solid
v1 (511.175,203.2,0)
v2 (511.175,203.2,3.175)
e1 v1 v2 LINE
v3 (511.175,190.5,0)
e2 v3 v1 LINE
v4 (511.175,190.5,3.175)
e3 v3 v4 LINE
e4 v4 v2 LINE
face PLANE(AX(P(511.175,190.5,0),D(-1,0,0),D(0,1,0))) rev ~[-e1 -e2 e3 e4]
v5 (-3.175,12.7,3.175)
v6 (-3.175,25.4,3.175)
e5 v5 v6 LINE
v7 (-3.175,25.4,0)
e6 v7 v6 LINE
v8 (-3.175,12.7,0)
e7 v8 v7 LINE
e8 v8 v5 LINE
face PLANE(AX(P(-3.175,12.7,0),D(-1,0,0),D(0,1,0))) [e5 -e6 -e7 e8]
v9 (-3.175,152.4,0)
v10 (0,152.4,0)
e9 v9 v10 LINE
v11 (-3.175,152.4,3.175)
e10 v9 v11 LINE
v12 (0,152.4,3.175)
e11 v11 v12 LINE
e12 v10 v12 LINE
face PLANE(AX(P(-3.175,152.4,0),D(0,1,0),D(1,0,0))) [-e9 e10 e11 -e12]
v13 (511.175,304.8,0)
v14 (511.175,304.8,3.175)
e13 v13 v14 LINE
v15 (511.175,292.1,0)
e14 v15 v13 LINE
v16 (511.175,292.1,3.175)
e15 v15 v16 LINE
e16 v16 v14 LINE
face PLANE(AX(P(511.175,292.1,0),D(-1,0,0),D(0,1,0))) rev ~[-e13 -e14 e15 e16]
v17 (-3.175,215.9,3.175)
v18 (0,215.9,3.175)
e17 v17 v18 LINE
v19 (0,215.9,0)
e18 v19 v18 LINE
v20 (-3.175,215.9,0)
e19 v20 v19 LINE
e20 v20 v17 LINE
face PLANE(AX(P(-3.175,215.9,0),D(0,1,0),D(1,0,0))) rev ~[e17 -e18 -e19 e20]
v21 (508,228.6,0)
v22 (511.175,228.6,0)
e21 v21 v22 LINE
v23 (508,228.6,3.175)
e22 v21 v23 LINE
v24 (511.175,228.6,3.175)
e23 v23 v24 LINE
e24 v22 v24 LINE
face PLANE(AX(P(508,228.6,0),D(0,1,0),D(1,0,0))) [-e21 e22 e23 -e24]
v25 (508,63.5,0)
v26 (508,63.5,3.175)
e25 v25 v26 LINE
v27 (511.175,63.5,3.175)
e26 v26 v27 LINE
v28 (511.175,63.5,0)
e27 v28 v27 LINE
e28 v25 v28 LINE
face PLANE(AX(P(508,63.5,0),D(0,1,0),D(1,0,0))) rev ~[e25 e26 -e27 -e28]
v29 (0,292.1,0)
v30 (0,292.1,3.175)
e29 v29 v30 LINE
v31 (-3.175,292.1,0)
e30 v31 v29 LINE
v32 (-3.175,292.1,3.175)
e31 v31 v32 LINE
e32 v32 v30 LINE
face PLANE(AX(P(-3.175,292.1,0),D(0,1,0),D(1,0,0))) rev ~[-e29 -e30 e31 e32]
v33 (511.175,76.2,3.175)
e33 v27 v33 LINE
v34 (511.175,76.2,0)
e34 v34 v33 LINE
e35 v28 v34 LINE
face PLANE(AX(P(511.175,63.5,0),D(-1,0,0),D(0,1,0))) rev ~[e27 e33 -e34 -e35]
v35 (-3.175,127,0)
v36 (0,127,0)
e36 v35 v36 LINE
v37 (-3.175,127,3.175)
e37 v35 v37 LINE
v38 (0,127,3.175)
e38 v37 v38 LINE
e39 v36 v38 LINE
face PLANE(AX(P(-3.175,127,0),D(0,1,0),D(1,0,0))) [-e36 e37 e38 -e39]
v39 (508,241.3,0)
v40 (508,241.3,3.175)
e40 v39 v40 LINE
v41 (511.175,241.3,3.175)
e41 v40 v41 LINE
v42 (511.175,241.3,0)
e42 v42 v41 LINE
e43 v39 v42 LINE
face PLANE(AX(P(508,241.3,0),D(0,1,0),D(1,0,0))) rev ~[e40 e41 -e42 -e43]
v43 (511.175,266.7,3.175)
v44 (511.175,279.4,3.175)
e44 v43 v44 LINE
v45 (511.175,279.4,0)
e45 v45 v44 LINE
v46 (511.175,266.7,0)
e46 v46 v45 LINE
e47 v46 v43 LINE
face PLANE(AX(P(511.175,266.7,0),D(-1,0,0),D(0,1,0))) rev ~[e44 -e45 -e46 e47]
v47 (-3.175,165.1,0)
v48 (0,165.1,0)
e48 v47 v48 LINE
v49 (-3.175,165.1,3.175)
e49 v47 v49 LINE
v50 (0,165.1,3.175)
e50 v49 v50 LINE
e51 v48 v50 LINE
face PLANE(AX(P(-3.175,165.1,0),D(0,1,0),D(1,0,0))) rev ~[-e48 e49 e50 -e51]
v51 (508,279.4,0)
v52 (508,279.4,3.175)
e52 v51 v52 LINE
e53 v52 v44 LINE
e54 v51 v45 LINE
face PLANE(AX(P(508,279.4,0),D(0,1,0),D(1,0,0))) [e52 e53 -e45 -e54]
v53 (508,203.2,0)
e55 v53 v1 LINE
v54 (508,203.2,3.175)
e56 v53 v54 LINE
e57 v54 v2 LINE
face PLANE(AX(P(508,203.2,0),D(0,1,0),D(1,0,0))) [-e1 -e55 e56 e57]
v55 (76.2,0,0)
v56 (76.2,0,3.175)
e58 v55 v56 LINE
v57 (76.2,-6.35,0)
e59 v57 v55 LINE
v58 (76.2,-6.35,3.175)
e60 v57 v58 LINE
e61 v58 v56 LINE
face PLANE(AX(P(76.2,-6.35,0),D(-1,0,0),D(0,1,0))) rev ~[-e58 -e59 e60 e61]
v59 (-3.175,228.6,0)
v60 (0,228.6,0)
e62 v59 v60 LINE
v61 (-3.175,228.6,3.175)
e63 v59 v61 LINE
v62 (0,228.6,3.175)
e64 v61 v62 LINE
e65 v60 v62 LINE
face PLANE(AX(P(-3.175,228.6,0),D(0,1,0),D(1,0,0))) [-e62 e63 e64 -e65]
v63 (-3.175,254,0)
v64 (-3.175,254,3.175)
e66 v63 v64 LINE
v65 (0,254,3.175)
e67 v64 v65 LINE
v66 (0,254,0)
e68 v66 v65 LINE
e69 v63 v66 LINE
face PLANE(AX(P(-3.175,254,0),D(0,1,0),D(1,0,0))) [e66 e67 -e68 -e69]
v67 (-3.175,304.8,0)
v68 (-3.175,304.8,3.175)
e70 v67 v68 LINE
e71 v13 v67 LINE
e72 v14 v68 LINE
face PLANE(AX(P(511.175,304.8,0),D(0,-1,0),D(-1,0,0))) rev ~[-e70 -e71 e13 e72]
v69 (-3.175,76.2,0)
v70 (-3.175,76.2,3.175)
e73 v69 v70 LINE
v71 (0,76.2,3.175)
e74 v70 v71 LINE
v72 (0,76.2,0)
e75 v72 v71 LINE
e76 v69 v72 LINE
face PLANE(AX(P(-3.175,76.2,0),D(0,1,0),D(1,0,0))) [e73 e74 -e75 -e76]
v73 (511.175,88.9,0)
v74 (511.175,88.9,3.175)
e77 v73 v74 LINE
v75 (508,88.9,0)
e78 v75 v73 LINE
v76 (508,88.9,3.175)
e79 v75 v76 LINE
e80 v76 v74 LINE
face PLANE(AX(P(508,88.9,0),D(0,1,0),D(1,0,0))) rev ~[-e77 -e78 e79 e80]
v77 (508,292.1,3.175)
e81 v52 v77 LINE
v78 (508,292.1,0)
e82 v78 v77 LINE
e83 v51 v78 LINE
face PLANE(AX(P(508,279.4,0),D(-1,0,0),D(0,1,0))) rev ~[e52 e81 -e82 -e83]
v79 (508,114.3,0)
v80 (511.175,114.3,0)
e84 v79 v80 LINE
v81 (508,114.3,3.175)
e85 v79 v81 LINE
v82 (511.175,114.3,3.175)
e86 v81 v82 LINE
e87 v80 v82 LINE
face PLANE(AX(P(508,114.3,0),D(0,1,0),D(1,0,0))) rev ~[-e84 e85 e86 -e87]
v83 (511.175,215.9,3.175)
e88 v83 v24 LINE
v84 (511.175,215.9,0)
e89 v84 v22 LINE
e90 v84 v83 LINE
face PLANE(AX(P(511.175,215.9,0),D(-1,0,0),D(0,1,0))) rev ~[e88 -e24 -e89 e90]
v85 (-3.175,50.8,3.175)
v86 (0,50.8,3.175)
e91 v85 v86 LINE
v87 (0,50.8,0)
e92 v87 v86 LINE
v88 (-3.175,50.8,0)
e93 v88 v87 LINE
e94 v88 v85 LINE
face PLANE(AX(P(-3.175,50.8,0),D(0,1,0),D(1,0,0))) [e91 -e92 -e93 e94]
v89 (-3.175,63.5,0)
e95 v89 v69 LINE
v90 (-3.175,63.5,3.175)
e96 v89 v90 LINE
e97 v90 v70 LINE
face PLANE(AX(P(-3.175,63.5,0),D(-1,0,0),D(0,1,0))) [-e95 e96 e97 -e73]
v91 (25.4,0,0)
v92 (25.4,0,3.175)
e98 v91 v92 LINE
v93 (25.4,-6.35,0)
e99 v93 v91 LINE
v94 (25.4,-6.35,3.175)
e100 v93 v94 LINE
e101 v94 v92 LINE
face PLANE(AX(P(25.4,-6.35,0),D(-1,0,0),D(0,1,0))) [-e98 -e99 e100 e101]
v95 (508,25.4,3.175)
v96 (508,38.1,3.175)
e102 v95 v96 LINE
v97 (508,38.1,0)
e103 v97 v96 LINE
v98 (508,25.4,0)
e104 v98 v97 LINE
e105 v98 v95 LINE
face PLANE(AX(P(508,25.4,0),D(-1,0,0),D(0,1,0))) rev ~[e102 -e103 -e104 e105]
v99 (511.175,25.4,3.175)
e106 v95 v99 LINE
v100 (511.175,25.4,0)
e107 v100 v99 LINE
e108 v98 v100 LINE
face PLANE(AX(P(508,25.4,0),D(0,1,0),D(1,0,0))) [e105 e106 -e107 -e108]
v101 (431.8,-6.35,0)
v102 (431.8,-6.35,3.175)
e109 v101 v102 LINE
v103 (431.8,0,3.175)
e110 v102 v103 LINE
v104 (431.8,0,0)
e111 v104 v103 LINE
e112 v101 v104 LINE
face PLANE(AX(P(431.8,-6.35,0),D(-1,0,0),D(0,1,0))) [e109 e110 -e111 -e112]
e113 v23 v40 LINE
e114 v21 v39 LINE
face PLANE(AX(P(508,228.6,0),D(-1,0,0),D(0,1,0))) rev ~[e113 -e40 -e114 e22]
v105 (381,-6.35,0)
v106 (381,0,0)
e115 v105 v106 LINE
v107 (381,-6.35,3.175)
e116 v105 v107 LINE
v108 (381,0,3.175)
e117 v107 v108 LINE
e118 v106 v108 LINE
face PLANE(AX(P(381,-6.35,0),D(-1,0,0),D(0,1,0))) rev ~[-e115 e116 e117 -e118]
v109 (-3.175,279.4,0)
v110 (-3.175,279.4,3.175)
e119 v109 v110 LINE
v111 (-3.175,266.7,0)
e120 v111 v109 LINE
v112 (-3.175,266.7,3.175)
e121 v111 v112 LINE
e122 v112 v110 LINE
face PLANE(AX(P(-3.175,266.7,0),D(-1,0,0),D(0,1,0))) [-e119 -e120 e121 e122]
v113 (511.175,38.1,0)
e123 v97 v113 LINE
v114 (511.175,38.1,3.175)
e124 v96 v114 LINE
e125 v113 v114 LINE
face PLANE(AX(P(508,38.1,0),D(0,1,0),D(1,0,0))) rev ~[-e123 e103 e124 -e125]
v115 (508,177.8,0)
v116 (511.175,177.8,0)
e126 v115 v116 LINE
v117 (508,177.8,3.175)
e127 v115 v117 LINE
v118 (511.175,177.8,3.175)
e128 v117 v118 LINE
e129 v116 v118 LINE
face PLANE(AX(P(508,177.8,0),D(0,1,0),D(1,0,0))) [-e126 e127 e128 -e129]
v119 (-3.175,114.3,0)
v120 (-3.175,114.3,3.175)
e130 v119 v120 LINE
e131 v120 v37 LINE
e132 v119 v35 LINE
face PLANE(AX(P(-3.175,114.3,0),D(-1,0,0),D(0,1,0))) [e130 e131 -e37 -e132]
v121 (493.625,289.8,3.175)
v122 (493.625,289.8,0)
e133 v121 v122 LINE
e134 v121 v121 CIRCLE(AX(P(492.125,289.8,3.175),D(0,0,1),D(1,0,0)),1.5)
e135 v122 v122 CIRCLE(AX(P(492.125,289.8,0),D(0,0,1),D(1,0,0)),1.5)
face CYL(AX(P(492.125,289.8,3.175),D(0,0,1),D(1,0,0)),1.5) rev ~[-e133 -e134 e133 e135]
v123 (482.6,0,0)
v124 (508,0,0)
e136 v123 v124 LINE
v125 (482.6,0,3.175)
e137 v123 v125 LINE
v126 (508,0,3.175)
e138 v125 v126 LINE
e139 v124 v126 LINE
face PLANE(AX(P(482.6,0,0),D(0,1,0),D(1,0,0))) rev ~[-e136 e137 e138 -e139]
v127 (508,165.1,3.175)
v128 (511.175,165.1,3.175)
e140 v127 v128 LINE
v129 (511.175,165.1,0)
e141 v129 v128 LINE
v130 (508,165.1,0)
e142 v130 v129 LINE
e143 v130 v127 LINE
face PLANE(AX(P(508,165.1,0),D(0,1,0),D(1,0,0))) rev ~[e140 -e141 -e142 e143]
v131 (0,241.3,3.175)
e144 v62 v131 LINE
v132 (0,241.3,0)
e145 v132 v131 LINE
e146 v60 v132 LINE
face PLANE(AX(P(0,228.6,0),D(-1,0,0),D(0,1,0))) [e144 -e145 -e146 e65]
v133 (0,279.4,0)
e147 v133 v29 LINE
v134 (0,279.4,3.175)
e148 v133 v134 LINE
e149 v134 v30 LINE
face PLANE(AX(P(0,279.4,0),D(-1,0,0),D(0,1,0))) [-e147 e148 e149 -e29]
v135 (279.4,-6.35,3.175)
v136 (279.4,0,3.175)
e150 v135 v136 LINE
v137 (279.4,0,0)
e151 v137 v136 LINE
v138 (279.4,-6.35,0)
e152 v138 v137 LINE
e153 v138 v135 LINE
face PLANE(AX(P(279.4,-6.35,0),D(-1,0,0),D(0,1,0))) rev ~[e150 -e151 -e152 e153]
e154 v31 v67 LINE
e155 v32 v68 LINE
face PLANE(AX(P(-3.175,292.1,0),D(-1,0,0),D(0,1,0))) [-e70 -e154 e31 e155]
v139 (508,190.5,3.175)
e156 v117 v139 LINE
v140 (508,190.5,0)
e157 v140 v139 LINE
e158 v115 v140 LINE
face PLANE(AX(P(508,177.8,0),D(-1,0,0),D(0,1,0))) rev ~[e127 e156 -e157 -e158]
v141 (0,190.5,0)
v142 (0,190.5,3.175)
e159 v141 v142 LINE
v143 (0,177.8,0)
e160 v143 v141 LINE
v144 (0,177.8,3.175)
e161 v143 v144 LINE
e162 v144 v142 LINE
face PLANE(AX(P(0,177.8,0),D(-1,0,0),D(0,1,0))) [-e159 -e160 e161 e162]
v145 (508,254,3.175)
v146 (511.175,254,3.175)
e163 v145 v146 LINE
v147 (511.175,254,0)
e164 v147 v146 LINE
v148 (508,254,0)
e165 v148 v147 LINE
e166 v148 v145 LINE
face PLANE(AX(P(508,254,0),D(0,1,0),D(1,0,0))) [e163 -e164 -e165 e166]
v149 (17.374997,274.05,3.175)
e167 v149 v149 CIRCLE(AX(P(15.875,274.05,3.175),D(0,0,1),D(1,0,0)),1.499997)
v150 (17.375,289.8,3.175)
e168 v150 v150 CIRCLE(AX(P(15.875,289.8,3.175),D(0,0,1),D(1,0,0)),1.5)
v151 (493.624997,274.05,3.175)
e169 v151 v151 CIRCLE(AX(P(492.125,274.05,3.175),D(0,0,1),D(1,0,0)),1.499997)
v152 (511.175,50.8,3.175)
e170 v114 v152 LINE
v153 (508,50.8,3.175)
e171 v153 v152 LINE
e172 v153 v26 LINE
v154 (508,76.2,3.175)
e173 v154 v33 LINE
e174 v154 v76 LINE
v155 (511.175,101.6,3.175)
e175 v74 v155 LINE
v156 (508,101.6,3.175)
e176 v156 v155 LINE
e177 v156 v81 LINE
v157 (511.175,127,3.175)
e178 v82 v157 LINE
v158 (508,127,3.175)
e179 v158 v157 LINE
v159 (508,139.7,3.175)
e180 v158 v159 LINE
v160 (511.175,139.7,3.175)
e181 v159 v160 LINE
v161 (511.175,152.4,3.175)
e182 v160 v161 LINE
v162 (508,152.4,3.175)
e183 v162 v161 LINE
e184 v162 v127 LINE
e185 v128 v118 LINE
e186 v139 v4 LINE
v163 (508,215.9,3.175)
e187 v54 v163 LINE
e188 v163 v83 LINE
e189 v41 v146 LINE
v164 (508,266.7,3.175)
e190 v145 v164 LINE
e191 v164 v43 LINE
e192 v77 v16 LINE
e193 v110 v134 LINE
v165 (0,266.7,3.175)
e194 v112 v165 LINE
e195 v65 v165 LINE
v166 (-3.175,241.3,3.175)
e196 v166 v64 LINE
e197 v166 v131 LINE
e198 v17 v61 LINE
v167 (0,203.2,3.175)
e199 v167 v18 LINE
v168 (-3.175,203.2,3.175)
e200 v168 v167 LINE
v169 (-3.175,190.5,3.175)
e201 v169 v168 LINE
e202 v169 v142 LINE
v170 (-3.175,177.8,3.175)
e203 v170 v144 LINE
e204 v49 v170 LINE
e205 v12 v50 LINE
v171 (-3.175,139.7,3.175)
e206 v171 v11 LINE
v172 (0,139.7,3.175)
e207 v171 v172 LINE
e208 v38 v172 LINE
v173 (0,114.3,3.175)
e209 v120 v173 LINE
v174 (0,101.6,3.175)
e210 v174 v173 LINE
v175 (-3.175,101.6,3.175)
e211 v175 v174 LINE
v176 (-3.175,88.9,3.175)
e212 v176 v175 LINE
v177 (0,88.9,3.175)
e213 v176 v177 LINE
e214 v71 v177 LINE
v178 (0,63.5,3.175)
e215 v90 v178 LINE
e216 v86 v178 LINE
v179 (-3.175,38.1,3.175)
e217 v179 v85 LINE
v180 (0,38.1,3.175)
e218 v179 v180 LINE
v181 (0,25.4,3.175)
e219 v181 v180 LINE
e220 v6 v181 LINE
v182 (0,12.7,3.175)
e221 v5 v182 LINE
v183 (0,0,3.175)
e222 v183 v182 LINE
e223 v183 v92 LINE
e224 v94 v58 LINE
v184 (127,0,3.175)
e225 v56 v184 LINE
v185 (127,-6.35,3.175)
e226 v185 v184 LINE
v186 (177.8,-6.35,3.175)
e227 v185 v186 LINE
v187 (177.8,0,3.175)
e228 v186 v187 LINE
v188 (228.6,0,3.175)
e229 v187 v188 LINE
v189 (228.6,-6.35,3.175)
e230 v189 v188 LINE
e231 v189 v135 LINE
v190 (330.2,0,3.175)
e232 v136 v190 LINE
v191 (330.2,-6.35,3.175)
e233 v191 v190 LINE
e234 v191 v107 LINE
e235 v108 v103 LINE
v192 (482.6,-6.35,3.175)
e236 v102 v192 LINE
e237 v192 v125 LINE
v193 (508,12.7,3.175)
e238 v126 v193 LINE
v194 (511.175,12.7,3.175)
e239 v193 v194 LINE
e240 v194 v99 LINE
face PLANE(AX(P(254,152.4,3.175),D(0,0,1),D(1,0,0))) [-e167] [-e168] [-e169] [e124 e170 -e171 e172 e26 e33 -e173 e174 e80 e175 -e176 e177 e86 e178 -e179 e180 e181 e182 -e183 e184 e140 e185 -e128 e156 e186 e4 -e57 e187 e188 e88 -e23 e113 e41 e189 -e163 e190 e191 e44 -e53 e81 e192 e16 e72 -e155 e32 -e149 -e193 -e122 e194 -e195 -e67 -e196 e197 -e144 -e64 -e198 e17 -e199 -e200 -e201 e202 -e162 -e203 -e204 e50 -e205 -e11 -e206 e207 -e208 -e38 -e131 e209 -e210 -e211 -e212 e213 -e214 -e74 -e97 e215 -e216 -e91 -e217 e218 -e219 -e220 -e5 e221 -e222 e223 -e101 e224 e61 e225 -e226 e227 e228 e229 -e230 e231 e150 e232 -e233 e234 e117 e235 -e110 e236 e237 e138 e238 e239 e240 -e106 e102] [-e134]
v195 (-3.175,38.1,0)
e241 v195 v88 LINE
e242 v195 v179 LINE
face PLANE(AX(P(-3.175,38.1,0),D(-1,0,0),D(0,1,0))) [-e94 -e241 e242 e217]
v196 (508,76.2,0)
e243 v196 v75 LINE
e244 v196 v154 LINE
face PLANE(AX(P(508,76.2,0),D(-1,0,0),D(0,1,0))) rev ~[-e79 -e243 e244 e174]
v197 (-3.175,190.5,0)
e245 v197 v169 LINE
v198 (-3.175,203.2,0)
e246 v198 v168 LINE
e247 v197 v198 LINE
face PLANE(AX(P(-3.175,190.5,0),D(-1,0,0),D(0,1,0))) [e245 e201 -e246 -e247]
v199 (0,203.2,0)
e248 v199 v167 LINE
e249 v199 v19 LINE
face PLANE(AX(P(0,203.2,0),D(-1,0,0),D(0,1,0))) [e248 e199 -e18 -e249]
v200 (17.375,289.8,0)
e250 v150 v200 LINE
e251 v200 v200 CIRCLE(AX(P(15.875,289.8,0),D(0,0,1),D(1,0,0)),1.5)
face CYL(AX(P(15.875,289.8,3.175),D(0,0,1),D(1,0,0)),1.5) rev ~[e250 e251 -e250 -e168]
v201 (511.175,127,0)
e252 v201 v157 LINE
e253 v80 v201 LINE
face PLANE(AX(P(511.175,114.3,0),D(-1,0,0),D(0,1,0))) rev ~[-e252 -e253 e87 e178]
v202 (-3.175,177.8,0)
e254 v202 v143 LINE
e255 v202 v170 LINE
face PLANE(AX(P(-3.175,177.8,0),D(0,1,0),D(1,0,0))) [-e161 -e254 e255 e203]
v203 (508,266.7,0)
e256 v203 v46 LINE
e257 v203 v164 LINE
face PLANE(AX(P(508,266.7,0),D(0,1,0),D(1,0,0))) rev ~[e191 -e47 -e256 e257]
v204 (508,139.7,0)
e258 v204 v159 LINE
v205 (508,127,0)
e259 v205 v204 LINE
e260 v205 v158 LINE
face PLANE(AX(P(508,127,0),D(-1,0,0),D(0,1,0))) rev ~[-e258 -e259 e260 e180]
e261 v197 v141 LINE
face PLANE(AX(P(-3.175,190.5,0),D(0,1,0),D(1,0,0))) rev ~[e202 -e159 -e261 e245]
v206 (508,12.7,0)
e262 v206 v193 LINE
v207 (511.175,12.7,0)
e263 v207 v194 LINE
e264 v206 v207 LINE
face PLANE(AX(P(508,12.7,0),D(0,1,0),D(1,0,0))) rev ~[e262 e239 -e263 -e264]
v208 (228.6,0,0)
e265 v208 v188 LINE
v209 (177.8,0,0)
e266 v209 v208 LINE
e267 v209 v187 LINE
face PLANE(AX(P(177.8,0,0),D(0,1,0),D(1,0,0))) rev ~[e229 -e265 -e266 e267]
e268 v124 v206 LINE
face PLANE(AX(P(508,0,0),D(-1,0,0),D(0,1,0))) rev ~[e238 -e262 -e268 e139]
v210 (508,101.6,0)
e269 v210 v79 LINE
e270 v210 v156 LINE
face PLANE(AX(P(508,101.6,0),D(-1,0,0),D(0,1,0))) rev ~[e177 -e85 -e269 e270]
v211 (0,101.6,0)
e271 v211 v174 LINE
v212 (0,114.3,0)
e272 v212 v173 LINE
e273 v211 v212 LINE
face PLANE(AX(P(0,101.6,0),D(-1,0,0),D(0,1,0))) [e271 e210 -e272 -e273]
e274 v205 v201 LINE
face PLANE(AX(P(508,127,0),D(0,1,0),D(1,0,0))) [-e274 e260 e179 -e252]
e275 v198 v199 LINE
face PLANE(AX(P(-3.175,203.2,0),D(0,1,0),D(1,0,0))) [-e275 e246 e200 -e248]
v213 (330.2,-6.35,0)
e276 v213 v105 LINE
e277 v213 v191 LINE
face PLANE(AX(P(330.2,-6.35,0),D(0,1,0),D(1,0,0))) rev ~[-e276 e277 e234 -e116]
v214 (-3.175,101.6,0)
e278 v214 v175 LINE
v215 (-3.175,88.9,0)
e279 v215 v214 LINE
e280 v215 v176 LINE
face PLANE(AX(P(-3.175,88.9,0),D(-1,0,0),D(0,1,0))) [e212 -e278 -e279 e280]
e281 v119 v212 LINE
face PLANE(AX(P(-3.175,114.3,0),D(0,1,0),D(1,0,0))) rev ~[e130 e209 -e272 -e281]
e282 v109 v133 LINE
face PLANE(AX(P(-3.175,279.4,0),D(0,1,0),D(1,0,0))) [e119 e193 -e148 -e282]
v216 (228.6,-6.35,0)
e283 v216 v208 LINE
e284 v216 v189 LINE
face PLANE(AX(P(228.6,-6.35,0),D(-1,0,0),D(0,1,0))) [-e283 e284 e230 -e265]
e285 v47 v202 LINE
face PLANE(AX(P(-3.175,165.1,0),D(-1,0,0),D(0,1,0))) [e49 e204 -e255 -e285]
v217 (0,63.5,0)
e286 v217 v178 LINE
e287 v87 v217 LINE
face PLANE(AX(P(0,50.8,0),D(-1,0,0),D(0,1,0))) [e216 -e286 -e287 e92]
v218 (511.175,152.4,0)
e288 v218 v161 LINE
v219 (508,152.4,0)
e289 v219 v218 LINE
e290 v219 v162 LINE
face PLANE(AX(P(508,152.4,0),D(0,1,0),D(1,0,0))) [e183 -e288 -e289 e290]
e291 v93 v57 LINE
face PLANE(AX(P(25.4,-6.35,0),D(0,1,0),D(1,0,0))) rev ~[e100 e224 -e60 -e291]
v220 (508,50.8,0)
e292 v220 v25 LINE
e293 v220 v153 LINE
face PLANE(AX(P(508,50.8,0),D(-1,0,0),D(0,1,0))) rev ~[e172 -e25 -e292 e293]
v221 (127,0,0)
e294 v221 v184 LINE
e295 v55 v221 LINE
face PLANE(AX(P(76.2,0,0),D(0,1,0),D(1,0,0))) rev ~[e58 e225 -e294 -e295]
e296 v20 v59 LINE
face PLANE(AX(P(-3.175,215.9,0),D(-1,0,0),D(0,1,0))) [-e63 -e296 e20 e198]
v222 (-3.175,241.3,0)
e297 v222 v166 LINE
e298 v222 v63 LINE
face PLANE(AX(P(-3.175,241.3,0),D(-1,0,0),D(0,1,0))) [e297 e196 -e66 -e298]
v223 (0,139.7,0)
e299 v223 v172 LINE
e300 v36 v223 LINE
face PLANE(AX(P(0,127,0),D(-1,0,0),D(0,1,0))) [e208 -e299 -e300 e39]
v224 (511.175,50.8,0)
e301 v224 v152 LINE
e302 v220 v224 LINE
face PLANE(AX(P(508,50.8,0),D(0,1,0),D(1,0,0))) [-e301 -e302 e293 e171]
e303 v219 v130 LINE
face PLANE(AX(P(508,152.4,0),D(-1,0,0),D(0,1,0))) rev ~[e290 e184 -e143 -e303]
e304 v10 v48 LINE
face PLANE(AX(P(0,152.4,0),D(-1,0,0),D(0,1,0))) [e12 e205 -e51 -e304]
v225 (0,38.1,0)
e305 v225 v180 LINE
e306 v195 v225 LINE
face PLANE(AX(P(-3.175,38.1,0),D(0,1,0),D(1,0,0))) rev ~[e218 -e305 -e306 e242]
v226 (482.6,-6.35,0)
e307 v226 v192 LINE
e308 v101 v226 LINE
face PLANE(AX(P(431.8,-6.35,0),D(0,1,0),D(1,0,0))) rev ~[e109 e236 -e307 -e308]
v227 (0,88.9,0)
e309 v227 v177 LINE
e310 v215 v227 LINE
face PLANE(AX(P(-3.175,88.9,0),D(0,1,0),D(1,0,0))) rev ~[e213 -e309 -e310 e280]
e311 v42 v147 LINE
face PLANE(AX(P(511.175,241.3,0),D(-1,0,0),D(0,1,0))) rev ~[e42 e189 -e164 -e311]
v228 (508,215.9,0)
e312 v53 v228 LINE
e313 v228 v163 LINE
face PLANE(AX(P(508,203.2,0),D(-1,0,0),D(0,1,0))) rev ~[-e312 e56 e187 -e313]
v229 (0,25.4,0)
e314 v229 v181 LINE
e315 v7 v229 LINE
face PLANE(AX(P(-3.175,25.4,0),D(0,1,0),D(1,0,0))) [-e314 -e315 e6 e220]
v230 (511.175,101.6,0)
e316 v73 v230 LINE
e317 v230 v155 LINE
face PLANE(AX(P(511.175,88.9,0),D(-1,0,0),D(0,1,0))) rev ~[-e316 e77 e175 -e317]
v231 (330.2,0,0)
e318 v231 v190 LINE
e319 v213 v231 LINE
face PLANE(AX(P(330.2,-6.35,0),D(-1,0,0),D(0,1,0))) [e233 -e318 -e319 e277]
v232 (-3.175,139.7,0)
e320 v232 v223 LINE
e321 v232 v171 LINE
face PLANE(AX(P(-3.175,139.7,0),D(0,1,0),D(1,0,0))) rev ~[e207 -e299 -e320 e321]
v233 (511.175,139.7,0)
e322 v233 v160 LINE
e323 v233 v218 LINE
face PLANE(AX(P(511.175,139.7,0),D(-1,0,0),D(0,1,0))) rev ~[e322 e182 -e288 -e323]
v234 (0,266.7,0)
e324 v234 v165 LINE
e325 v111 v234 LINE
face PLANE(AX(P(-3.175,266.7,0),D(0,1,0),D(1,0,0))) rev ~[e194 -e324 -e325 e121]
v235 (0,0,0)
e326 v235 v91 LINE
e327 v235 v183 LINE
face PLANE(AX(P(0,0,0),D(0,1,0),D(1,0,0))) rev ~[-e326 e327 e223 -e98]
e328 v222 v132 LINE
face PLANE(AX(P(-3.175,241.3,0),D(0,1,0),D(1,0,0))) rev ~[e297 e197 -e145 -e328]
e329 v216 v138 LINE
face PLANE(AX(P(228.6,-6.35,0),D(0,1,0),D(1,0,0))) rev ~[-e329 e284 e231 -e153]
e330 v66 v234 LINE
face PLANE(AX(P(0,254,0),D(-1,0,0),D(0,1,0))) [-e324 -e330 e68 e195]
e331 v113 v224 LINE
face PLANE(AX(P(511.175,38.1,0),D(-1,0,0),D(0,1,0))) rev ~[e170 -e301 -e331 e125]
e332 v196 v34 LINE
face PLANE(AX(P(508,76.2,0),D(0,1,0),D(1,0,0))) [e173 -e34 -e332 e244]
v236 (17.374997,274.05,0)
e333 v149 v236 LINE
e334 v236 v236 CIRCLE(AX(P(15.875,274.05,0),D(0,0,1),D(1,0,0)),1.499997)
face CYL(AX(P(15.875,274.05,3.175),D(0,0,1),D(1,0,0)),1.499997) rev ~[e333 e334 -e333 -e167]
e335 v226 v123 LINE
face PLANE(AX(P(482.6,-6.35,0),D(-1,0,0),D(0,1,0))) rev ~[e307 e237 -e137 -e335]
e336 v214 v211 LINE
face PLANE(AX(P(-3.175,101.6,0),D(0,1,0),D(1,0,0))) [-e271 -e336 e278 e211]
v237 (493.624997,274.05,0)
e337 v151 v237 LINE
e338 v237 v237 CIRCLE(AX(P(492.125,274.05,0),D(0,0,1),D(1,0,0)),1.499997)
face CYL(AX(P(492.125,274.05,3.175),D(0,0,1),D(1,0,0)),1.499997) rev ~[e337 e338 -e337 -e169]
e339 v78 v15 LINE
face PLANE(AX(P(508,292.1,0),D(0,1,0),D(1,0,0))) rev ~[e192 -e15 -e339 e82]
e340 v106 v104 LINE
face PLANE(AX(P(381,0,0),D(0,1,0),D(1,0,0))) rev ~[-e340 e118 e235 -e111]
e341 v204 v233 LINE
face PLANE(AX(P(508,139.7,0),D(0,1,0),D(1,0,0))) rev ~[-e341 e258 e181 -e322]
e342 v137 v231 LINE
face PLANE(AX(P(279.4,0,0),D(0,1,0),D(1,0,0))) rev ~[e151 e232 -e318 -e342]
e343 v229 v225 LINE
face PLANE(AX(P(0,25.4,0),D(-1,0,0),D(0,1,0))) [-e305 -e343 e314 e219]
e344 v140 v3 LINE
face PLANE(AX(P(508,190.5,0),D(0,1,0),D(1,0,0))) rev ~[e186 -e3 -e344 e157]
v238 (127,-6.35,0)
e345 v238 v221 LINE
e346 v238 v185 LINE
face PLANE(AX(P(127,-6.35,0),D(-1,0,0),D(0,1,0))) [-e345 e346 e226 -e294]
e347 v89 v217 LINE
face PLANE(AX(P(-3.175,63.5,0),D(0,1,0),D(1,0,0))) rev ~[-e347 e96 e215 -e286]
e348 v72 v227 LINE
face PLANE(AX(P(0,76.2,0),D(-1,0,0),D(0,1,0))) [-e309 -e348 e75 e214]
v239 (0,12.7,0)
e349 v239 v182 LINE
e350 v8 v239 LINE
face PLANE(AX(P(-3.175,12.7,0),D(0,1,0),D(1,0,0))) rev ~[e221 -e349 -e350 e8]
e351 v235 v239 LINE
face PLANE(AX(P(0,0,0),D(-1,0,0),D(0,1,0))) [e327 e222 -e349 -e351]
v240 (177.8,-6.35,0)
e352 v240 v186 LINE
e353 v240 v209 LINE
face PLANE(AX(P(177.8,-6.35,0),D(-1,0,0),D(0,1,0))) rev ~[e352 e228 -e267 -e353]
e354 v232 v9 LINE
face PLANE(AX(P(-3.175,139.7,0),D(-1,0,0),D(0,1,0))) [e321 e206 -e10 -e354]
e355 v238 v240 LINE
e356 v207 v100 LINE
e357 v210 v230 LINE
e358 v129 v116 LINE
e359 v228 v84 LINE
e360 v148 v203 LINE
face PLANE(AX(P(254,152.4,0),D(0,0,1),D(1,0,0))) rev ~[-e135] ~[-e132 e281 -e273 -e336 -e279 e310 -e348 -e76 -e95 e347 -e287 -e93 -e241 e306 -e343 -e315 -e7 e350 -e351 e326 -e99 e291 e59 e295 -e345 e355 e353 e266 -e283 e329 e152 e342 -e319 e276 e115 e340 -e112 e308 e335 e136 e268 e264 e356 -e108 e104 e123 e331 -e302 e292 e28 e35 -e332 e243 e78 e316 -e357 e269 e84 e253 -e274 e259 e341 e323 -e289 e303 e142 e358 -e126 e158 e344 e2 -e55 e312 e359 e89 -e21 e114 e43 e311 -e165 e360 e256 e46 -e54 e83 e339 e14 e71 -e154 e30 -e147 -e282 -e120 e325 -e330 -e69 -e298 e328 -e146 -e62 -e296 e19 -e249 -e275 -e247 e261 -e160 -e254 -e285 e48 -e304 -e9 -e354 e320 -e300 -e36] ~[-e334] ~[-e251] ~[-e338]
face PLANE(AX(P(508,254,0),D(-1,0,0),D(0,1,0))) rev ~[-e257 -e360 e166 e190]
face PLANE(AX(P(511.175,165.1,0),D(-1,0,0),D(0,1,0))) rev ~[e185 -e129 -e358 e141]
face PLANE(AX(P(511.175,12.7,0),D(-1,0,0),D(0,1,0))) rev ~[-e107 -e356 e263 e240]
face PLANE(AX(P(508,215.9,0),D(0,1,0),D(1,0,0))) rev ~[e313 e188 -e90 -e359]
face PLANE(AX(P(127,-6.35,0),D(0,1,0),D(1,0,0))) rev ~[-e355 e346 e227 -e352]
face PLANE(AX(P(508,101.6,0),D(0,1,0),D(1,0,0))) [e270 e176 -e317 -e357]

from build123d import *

# Parameters (mm, degrees)
SKETCH1_W           = 508
SKETCH1_H           = 304.8
SKETCH1_W_2         = 50.8
SKETCH1_H_2         = 6.35
SKETCH1_W_3         = 3.175
SKETCH1_H_3         = 12.7
BOSS_EXTRUDE1_DEPTH = 3.175
SKETCH2_R           = 1.5
SKETCH2_R_2         = 1.499997
CUT_EXTRUDE1_DEPTH  = 3.175


with BuildPart() as part:
    # Sketch1 → Boss-Extrude1 (new body)
    with BuildSketch(Plane.XY):
        with Locations((254, 152.4)):
            Rectangle(SKETCH1_W, SKETCH1_H)
        with Locations((50.8, -3.175)):
            Rectangle(SKETCH1_W_2, SKETCH1_H_2)
        with Locations((152.4, -3.175)):
            Rectangle(SKETCH1_W_2, SKETCH1_H_2)
        with Locations((254, -3.175)):
            Rectangle(SKETCH1_W_2, SKETCH1_H_2)
        with Locations((355.6, -3.175)):
            Rectangle(SKETCH1_W_2, SKETCH1_H_2)
        with Locations((457.2, -3.175)):
            Rectangle(SKETCH1_W_2, SKETCH1_H_2)
        with Locations((-1.5875, 19.05)):
            Rectangle(SKETCH1_W_3, SKETCH1_H_3)
        with Locations((-1.5875, 44.45)):
            Rectangle(SKETCH1_W_3, SKETCH1_H_3)
        with Locations((-1.5875, 69.85)):
            Rectangle(SKETCH1_W_3, SKETCH1_H_3)
        with Locations((-1.5875, 95.25)):
            Rectangle(SKETCH1_W_3, SKETCH1_H_3)
        with Locations((-1.5875, 120.65)):
            Rectangle(SKETCH1_W_3, SKETCH1_H_3)
        with Locations((-1.5875, 146.05)):
            Rectangle(SKETCH1_W_3, SKETCH1_H_3)
        with Locations((-1.5875, 171.45)):
            Rectangle(SKETCH1_W_3, SKETCH1_H_3)
        with Locations((-1.5875, 196.85)):
            Rectangle(SKETCH1_W_3, SKETCH1_H_3)
        with Locations((-1.5875, 222.25)):
            Rectangle(SKETCH1_W_3, SKETCH1_H_3)
        with Locations((-1.5875, 247.65)):
            Rectangle(SKETCH1_W_3, SKETCH1_H_3)
        with Locations((-1.5875, 273.05)):
            Rectangle(SKETCH1_W_3, SKETCH1_H_3)
        with Locations((-1.5875, 298.45)):
            Rectangle(SKETCH1_W_3, SKETCH1_H_3)
        with Locations((509.5875, 19.05)):
            Rectangle(SKETCH1_W_3, SKETCH1_H_3)
        with Locations((509.5875, 44.45)):
            Rectangle(SKETCH1_W_3, SKETCH1_H_3)
        with Locations((509.5875, 69.85)):
            Rectangle(SKETCH1_W_3, SKETCH1_H_3)
        with Locations((509.5875, 95.25)):
            Rectangle(SKETCH1_W_3, SKETCH1_H_3)
        with Locations((509.5875, 146.05)):
            Rectangle(SKETCH1_W_3, SKETCH1_H_3)
        with Locations((509.5875, 120.65)):
            Rectangle(SKETCH1_W_3, SKETCH1_H_3)
        with Locations((509.5875, 171.45)):
            Rectangle(SKETCH1_W_3, SKETCH1_H_3)
        with Locations((509.5875, 196.85)):
            Rectangle(SKETCH1_W_3, SKETCH1_H_3)
        with Locations((509.5875, 222.25)):
            Rectangle(SKETCH1_W_3, SKETCH1_H_3)
        with Locations((509.5875, 247.65)):
            Rectangle(SKETCH1_W_3, SKETCH1_H_3)
        with Locations((509.5875, 273.05)):
            Rectangle(SKETCH1_W_3, SKETCH1_H_3)
        with Locations((509.5875, 298.45)):
            Rectangle(SKETCH1_W_3, SKETCH1_H_3)
    extrude(amount=BOSS_EXTRUDE1_DEPTH)

    # Sketch2 → Cut-Extrude1 (cut)
    with BuildSketch(Plane.XY.offset(3.175)):
        with Locations((15.875, 289.8)):
            Circle(SKETCH2_R)
        with Locations((15.875, 274.05)):
            Circle(SKETCH2_R_2)
        with Locations((492.125, 289.8)):
            Circle(SKETCH2_R)
        with Locations((492.125, 274.05)):
            Circle(SKETCH2_R_2)
    extrude(amount=-CUT_EXTRUDE1_DEPTH, mode=Mode.SUBTRACT)


solid = part.part
